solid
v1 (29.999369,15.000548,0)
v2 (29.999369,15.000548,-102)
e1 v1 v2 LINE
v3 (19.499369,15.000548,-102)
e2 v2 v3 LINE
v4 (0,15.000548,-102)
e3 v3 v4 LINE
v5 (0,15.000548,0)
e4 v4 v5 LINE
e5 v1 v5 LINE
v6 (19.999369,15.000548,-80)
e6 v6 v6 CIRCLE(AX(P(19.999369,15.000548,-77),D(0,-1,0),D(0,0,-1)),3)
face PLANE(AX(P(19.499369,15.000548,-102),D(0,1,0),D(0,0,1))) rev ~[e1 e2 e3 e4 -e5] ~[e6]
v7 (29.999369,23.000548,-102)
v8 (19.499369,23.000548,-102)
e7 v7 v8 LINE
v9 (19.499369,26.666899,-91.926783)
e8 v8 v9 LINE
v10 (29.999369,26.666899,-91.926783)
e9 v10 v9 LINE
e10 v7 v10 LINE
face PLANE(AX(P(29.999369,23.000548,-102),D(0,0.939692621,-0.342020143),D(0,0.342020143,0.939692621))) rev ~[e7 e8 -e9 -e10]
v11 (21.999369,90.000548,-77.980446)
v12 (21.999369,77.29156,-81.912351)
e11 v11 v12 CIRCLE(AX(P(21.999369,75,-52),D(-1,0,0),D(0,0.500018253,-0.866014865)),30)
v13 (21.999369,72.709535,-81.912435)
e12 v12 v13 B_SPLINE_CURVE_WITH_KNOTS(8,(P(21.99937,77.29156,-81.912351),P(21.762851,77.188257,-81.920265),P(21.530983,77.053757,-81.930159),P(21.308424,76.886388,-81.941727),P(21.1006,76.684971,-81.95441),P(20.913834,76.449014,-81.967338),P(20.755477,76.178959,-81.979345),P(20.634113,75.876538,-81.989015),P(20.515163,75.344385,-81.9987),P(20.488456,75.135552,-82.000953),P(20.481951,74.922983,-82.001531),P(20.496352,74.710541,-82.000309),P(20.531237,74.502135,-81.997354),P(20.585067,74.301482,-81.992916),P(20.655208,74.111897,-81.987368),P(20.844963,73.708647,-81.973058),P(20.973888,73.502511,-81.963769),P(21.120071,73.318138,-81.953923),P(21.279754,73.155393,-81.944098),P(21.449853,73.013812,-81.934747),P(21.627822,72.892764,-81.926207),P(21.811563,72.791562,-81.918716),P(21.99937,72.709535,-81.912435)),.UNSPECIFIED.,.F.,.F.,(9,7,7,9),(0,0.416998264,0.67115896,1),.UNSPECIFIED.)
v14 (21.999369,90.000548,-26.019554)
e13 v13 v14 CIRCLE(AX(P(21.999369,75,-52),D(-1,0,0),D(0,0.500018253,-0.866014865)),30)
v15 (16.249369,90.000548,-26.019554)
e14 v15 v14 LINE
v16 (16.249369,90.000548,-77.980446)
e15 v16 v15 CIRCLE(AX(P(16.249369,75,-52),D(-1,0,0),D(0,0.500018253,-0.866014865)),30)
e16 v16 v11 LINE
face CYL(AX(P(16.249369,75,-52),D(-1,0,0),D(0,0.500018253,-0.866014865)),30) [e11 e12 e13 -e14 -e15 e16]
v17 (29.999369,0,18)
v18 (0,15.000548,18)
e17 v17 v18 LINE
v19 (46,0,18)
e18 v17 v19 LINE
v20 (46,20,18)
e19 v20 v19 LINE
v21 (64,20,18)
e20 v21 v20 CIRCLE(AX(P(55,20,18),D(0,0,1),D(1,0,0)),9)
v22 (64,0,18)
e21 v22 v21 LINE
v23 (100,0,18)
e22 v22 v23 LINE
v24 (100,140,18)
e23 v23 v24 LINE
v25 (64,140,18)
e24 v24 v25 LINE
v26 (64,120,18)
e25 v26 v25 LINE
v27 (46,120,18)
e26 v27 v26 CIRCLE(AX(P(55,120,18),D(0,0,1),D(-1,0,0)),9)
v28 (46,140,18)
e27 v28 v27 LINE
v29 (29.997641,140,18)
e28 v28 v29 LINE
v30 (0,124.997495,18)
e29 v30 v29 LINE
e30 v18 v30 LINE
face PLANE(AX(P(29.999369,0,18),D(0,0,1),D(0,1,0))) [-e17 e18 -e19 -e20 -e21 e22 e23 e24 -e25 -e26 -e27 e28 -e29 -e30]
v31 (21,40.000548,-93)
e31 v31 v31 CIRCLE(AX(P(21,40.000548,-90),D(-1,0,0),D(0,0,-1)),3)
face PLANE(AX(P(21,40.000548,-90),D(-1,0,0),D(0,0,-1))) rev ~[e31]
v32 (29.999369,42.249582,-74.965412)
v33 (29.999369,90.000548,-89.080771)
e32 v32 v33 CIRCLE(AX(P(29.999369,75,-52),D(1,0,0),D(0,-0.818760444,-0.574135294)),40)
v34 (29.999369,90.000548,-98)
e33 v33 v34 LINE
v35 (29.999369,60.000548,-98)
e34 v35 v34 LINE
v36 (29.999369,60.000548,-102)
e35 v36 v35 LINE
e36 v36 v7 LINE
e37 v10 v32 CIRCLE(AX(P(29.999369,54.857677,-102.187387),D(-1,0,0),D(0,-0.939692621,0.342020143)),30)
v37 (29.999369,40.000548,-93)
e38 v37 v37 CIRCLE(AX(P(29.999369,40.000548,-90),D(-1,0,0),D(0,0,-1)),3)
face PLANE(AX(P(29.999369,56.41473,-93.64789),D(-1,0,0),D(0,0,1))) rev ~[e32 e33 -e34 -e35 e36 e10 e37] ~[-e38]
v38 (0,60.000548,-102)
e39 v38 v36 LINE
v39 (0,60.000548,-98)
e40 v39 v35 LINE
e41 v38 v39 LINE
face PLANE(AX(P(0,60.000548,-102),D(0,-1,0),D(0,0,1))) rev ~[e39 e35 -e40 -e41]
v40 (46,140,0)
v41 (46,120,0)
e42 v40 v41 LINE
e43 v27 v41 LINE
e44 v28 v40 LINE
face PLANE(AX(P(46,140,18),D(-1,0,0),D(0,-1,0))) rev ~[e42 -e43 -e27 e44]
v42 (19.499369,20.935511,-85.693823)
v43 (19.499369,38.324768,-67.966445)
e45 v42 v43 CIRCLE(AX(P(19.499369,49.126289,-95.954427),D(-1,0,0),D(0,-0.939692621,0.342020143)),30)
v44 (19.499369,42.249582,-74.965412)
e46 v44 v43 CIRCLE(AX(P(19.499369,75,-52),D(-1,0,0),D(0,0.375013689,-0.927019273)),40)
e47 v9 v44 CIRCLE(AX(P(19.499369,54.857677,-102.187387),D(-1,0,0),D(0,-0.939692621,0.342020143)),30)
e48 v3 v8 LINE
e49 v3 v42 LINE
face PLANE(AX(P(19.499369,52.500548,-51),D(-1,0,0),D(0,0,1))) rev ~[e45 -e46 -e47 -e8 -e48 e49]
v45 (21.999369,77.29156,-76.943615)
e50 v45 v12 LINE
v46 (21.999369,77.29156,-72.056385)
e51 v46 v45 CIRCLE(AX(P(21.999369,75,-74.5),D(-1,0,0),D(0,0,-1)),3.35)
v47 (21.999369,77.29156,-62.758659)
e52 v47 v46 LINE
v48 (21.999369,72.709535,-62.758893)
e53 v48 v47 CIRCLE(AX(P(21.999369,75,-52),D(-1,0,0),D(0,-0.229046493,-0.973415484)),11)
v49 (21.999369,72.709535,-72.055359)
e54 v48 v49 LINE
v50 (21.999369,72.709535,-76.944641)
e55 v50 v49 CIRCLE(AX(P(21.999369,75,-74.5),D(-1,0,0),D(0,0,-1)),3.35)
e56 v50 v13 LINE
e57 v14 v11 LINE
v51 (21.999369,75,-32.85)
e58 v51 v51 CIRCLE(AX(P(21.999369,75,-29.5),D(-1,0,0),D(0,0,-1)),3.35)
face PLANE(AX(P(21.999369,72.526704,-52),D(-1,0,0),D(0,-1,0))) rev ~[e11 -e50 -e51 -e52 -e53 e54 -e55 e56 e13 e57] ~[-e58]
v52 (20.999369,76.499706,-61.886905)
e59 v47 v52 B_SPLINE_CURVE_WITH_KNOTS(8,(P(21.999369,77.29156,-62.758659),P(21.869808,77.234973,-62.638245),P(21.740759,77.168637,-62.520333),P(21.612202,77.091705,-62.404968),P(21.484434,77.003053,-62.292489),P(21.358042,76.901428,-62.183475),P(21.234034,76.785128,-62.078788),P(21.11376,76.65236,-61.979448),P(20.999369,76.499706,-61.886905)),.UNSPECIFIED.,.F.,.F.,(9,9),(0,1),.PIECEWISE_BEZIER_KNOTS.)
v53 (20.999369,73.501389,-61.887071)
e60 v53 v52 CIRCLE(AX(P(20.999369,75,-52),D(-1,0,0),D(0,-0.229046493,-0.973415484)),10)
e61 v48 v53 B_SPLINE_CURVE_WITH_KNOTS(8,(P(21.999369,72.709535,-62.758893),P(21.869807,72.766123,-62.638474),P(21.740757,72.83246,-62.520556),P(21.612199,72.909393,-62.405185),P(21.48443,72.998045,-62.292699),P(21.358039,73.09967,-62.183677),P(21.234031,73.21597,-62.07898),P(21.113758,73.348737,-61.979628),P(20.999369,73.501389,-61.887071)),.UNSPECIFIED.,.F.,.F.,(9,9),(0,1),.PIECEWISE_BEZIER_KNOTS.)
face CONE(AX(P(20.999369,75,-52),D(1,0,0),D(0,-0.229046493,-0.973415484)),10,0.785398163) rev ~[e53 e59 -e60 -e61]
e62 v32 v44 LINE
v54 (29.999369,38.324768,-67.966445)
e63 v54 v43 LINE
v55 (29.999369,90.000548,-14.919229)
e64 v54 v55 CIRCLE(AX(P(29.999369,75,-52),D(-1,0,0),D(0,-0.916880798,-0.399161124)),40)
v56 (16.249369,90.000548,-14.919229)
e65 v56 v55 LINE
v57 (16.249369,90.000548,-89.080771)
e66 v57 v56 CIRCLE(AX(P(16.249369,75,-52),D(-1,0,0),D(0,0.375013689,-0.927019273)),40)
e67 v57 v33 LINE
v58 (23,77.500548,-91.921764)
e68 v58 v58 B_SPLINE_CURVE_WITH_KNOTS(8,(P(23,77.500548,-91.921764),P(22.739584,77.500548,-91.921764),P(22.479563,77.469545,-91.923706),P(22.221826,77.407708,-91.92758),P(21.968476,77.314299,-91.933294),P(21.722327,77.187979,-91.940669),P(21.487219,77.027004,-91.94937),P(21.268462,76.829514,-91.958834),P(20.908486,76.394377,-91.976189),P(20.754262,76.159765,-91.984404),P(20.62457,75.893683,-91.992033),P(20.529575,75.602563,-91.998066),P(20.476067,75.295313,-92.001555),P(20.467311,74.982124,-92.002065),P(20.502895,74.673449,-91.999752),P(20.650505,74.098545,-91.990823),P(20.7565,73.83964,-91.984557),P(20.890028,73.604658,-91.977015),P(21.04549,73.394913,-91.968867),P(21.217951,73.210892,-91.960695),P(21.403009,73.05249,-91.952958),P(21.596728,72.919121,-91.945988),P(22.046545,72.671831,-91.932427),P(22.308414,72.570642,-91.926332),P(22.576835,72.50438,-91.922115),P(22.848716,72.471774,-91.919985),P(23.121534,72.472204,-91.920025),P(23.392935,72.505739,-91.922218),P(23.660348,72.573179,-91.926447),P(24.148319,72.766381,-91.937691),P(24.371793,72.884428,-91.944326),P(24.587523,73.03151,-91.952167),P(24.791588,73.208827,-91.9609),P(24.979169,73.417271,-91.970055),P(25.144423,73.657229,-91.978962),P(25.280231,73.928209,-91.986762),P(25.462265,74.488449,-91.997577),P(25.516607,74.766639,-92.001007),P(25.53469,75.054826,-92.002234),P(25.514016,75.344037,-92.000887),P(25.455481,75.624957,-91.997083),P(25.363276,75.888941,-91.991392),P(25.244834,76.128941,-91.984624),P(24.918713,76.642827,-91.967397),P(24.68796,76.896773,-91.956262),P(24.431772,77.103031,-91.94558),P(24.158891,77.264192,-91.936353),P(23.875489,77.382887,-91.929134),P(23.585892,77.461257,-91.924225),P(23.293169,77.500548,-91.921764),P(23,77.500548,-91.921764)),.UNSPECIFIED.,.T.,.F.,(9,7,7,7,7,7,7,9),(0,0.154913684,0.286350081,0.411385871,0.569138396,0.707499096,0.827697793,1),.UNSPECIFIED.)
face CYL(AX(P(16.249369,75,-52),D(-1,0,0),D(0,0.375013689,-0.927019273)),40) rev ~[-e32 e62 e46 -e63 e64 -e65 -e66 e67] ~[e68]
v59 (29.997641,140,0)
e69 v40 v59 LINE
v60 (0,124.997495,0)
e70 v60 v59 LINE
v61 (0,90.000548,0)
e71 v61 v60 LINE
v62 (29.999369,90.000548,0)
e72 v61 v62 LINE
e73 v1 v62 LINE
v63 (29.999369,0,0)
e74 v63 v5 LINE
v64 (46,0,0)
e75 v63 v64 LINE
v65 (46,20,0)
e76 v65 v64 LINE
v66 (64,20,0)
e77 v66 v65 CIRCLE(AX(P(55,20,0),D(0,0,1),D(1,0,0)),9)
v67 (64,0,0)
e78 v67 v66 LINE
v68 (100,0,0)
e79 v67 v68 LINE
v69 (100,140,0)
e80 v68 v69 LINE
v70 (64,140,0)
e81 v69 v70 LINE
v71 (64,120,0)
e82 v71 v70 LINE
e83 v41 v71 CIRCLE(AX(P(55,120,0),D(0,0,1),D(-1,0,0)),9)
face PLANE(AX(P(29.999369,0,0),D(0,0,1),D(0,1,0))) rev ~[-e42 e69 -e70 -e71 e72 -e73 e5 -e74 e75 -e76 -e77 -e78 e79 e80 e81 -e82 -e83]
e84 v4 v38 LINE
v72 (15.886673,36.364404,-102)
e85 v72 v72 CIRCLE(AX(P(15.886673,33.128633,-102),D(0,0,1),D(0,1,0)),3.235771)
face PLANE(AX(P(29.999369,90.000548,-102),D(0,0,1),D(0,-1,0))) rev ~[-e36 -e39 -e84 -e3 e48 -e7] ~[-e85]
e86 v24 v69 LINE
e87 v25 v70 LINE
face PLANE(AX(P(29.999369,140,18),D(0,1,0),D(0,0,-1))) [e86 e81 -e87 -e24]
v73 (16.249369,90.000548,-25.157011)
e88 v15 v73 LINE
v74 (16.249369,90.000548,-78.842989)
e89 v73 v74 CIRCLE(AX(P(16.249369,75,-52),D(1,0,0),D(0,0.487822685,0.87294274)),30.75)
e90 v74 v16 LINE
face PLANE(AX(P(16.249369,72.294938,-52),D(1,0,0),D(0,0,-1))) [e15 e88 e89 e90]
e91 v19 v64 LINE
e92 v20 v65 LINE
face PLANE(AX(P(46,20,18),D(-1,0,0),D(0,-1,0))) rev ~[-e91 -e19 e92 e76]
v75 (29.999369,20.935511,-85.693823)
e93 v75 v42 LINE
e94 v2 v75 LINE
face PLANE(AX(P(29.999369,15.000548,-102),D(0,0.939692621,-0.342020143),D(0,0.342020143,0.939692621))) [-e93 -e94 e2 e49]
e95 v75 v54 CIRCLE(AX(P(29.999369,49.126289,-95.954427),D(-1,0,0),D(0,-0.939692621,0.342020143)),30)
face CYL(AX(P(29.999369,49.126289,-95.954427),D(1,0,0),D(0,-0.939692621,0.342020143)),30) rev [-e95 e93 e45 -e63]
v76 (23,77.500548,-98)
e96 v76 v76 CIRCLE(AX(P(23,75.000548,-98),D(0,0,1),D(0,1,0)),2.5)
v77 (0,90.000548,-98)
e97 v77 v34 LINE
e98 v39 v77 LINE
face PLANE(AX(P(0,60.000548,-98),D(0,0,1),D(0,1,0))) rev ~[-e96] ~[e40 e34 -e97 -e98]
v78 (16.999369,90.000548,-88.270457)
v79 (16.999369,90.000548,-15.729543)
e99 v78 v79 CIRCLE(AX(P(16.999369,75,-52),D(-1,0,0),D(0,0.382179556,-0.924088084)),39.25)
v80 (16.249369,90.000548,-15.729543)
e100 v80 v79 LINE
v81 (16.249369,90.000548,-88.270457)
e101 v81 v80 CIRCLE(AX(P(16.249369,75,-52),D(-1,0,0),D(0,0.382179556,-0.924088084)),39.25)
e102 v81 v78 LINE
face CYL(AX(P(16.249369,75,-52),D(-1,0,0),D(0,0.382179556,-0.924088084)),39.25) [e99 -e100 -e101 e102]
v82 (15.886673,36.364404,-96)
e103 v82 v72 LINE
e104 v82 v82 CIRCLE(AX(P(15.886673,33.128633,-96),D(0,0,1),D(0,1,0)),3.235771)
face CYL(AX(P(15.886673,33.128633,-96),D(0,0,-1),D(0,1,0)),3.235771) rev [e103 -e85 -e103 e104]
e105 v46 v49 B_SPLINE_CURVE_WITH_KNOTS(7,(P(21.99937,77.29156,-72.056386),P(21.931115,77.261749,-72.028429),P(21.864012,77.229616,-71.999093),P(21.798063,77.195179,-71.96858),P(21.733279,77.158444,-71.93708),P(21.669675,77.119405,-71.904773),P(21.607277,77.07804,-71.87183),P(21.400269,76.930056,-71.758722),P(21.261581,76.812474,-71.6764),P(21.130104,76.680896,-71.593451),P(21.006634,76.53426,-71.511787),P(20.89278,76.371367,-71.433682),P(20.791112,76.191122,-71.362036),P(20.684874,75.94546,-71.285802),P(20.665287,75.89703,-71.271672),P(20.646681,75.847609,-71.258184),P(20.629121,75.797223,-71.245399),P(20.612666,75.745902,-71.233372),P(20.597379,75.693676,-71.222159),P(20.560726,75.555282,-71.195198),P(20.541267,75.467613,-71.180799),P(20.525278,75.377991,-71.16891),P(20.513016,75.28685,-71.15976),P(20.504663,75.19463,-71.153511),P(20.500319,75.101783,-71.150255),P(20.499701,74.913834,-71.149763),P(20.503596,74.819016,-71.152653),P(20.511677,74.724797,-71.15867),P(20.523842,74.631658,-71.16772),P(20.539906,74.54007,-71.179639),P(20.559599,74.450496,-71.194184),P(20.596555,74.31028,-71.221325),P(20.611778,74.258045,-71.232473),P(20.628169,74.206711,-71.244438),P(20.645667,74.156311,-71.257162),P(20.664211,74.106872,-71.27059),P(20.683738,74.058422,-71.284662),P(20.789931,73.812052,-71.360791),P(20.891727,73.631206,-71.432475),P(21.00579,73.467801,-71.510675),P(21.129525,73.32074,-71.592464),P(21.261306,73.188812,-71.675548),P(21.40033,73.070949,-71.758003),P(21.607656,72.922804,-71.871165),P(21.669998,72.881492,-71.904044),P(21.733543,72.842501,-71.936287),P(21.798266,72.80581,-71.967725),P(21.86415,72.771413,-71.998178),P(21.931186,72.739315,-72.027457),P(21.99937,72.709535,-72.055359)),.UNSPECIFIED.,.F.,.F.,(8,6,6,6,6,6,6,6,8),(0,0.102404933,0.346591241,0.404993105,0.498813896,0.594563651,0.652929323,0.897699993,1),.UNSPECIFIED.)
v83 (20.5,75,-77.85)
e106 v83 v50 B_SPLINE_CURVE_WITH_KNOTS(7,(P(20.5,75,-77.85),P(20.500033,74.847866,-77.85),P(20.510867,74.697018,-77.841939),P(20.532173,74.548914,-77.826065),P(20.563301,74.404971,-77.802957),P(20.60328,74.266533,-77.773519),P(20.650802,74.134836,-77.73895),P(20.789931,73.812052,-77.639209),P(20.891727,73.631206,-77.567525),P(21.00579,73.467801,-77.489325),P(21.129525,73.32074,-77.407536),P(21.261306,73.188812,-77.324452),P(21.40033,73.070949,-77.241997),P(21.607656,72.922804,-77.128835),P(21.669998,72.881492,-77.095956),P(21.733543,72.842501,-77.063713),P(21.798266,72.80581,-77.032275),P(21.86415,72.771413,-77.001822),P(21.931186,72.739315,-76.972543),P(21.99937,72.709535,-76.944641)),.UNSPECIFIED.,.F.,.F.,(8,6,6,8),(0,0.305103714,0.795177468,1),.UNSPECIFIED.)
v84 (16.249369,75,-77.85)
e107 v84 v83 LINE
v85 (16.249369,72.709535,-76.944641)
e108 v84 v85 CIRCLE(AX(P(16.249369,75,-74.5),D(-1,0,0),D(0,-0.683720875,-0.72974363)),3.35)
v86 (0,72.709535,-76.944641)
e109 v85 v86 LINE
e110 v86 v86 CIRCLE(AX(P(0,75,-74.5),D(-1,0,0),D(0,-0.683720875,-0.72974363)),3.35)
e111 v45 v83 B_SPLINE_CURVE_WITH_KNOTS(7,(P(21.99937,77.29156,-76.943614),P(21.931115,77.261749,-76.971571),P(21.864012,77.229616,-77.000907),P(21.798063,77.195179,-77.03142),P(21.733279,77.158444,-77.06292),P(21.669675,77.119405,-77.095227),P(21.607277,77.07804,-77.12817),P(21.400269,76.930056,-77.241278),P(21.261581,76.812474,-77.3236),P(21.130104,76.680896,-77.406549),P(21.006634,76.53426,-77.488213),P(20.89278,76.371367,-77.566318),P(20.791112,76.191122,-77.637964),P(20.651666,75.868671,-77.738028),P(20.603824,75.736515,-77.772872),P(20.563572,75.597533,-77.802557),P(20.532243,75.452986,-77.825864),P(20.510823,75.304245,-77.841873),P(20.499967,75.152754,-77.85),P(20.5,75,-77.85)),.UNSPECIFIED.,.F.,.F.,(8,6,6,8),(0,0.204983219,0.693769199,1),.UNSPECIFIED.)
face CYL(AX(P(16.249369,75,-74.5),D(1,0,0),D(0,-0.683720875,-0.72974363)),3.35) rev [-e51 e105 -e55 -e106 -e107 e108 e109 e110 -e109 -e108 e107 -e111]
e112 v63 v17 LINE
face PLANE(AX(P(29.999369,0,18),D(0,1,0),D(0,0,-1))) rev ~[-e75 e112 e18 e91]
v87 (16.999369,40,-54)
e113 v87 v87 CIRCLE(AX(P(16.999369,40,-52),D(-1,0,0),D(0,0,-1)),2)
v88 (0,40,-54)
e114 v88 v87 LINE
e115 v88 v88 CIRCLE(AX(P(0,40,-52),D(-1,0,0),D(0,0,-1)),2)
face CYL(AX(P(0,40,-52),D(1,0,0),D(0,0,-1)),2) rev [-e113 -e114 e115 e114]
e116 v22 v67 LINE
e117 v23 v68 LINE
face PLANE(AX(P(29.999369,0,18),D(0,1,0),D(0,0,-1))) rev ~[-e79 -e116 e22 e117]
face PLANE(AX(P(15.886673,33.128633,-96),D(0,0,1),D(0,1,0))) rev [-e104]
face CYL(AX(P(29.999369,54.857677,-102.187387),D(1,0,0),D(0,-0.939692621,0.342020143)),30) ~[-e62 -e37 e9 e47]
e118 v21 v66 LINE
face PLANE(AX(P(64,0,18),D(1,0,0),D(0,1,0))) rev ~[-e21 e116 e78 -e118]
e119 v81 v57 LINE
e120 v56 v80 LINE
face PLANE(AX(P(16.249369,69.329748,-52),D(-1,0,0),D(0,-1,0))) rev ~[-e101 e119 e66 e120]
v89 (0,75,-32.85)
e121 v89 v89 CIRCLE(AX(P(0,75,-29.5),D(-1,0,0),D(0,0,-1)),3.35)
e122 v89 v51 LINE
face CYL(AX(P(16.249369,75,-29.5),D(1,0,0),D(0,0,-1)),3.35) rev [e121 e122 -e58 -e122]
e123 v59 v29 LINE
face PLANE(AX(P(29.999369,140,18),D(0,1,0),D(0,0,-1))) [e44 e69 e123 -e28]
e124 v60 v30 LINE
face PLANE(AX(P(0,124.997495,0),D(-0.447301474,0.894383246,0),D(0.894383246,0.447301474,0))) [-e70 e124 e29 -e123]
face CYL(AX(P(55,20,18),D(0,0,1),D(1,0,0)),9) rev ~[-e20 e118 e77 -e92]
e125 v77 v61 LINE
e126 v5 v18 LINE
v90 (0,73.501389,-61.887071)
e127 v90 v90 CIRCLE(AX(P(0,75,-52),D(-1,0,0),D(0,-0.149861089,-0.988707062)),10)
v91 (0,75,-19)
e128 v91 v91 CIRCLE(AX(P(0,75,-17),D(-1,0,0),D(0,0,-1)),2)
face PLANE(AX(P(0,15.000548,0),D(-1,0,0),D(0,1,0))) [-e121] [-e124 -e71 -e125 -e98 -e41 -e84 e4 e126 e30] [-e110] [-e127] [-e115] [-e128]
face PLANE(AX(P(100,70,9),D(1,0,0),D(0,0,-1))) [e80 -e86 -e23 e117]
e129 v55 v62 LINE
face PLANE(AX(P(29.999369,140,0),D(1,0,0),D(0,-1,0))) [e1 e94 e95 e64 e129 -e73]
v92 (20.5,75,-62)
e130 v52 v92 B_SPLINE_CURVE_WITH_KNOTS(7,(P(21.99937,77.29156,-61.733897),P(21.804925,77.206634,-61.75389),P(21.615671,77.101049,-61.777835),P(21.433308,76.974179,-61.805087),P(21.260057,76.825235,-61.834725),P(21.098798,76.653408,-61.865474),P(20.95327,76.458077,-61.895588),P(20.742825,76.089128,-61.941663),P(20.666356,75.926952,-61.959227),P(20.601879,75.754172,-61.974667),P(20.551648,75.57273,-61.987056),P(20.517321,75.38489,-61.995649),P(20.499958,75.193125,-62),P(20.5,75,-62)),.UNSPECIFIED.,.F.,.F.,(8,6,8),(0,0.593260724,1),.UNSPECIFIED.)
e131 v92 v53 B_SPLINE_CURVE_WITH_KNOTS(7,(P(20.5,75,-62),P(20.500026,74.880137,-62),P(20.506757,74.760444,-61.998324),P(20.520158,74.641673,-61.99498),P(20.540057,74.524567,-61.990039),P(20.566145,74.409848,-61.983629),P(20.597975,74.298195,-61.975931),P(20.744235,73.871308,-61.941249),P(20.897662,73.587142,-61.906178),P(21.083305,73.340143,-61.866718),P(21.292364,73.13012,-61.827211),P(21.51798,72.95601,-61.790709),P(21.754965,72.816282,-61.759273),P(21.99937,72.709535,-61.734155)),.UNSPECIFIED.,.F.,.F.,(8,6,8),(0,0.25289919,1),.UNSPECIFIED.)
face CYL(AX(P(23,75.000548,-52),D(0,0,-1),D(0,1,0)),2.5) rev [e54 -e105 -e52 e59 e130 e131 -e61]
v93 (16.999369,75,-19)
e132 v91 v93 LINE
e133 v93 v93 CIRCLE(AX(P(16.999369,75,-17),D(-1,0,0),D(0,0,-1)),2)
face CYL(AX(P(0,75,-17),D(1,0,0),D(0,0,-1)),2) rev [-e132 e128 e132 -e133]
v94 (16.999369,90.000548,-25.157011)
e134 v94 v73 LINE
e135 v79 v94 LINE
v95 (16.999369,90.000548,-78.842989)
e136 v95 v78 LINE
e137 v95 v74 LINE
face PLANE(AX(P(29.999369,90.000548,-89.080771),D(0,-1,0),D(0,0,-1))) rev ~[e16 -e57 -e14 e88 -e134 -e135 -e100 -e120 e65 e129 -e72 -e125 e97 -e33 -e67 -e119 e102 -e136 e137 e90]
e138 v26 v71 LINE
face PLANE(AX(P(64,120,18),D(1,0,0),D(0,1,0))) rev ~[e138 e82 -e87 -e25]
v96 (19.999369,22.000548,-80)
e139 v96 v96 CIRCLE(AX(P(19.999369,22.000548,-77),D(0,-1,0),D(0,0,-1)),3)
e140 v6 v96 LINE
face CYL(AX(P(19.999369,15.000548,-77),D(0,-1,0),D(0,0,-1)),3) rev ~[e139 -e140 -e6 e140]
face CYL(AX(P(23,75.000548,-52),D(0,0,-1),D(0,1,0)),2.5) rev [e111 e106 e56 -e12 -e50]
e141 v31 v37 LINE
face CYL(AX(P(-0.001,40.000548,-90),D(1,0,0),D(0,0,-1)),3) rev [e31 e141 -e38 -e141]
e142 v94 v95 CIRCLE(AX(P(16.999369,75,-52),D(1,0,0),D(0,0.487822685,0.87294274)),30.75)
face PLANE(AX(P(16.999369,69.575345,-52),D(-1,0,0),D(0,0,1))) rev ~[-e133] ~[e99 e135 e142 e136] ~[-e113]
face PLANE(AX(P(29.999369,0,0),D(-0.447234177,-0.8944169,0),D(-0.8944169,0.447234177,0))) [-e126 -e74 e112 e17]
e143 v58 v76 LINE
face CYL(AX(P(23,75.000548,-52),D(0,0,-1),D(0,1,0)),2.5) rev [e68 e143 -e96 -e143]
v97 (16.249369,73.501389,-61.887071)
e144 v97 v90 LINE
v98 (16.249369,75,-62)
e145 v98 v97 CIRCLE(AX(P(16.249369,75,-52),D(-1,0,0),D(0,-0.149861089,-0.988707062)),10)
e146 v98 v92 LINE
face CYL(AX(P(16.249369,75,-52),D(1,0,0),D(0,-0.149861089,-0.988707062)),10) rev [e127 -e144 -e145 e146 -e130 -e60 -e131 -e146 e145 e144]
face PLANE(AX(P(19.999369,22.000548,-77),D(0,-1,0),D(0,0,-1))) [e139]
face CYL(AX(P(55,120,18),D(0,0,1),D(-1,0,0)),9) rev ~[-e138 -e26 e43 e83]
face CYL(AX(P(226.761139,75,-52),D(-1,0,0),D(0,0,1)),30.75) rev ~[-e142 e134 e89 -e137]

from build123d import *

# Parameters (mm, degrees)
EXTRUDE_1_DEPTH                  = 10.5
SKETCH_2_W                       = 102.00000000000001
SKETCH_2_H                       = 75.00000000000009
EXTRUDE_2_DEPTH                  = 19.4993693487819
EXTRUDE_3_DEPTH                  = 18.000000000000004
SKETCH_4_W                       = 18.000000000000004
SKETCH_4_H                       = 140
EXTRUDE_4_DEPTH                  = 70.0006306512181
EXTRUDE_START                    = 10.499999999999998
EXTRUDE_5_DEPTH                  = 10.499999999999998
CUT_EXTRUDE_1_REACH              = 194.401
SKETCH_7_W                       = 4.000000000000014
SKETCH_7_H                       = 29.999999999999993
CUT_EXTRUDE_2_DEPTH              = 201.0099997500125
CUT_EXTRUDE_3_DEPTH              = 210.76176963403032
CUT_EXTRUDE_4_DEPTH              = 210.76176963403032
EXTRUDE_6_DEPTH                  = 0.7500000000000007
HOLE_WIZARD_M521_D               = 61.5
EXTRUDE_7_DEPTH                  = 5.749999999999998
HOLE_WIZARD_6_7_6_7_1_AT_2_COUNT = 2
HOLE_WIZARD_6_7_6_7_1_AT_2_PITCH = 45
HOLE_WIZARD_4_0_4_1_AT_2_COUNT   = 2
HOLE_WIZARD_4_0_4_1_AT_2_PITCH   = 49.49747468305833
CHAMFER_1_SIZE                   = 0.9999999999999991
EXTRUDE_START_2                  = -16.249369
SKETCH_28_R                      = 3.35
SKETCH_28_R_2                    = 9.999999999999993
SKETCH_28_R_3                    = 3.350000000000003
EXTRUDE_8_DEPTH                  = 16.249369
SKETCH_30_R                      = 3.0000000000000018
CUT_EXTRUDE_5_DEPTH              = 7
EXTRUDE_START_3                  = -21.000000000000007
SKETCH_32_R                      = 2.9999999999999933
EXTRUDE_9_DEPTH                  = 21.000000000000007


with BuildPart() as part:
    # Эскиз1 → Бобышка-Вытянуть1 (new body)
    with BuildSketch(Plane(origin=(29.9993693487819, 0, 0), x_dir=(0, 0, -1), z_dir=(1, 0, 0))):
        with BuildLine():
            Line((14.919229074297327, 90.0005475751909), (0, 90.0005475751909))
            Line((0, 90.0005475751909), (0, 15.0005475751908))
            Line((0, 15.0005475751908), (102.00000000000001, 15.0005475751908))
            Line((102.00000000000001, 15.0005475751908), (85.69382268537409, 20.93551075238141))
            ThreePointArc((85.69382268537409, 20.93551075238141), (74.94644857866616, 27.70982740688085), (67.9664449575318, 38.324768093192546))
            ThreePointArc((67.9664449575318, 38.324768093192546), (24.088528585175357, 46.3477790832992), (14.919229074297327, 90.0005475751909))
        make_face()
    extrude(amount=-EXTRUDE_1_DEPTH)

    # Эскиз2 → Бобышка-Вытянуть2 (add)
    with BuildSketch(Plane.ZY.offset(-19.4993693487819)):
        with Locations((-51.00000000000001, 52.50054757519085)):
            Rectangle(SKETCH_2_W, SKETCH_2_H)
    extrude(amount=EXTRUDE_2_DEPTH)

    # Эскиз3 → Бобышка-Вытянуть3 (add)
    with BuildSketch(Plane.XY):
        Polygon((29.999369348781915, -6.94e-15), (3.47e-15, 15.000547575190799), (0, 124.997494914823), (29.997641385548, 140), (29.999369348781904, 140), align=None)
    extrude(amount=EXTRUDE_3_DEPTH)

    # Эскиз4 → Бобышка-Вытянуть4 (add)
    with BuildSketch(Plane(origin=(29.9993693487819, 0, 0), x_dir=(0, 0, -1), z_dir=(1, 0, 0))):
        with Locations((-9.000000000000002, 70)):
            Rectangle(SKETCH_4_W, SKETCH_4_H)
    extrude(amount=EXTRUDE_4_DEPTH)

    # Эскиз5 → Бобышка-Вытянуть5 (add)
    with BuildSketch(Plane(origin=(19.4993693487819, 0, 0), x_dir=(0, 0, -1), z_dir=(1, 0, 0)).offset(EXTRUDE_START)):
        with BuildLine():
            Line((89.08077092570272, 90.0005475751909), (102.00000000000001, 90.0005475751909))
            Line((102.00000000000001, 90.0005475751909), (102.00000000000001, 23.000547575190808))
            Line((102.00000000000001, 23.000547575190808), (91.92678266011816, 26.666898850201964))
            ThreePointArc((91.92678266011816, 26.666898850201964), (81.8910585435448, 32.765618882150974), (74.9654117449494, 42.24958224106233))
            ThreePointArc((74.9654117449494, 42.24958224106233), (90.35915387380979, 63.660894475956894), (89.08077092570272, 90.0005475751909))
        make_face()
    extrude(amount=-EXTRUDE_5_DEPTH)

    # Эскиз6 → Вырез-Вытянуть1 (cut, up to next)
    with BuildSketch(Plane(origin=(16.2493693487819, 0, 0), x_dir=(0, -1, 0), z_dir=(-1, 0, 0)), mode=Mode.PRIVATE) as cut_extrude_1_sk1:
        with BuildLine():
            Line((-90.0005475751909, -14.919229074297327), (-90.0005475751909, -89.08077092570272))
            ThreePointArc((-90.0005475751909, -89.08077092570272), (-34.999999999999936, -52), (-90.0005475751909, -14.919229074297327))
        make_face()
    cut_extrude_1_tool1 = extrude(cut_extrude_1_sk1.sketch, amount=-CUT_EXTRUDE_1_REACH, mode=Mode.PRIVATE) & part.part
    add(cut_extrude_1_tool1.solids().sort_by_distance((16.249369, 65.774947, -52))[0], mode=Mode.SUBTRACT)

    # Эскиз7 → Вырез-Вытянуть2 (cut, through all)
    with BuildSketch(Plane.ZY):
        with Locations((-100, 75.0005475751909)):
            Rectangle(SKETCH_7_W, SKETCH_7_H)
    extrude(amount=-CUT_EXTRUDE_2_DEPTH, mode=Mode.SUBTRACT)

    # Эскиз8 → Вырез-Вытянуть3 (cut, through all)
    with BuildSketch(Plane.XY.offset(18.000000000000004)):
        with BuildLine():
            Line((64, 140), (45.999999999999986, 140))
            Line((45.999999999999986, 140), (46, 120))
            ThreePointArc((46, 120), (55, 111), (64, 120))
            Line((64, 120), (64, 140))
        make_face()
    extrude(amount=-CUT_EXTRUDE_3_DEPTH, mode=Mode.SUBTRACT)

    # Эскиз9 → Вырез-Вытянуть4 (cut, through all)
    with BuildSketch(Plane.XY.offset(18.000000000000004)):
        with BuildLine():
            Line((46.00000000000001, 0), (64, 0))
            Line((64, 0), (64, 20.000000000000004))
            ThreePointArc((64, 20.000000000000004), (55, 29), (45.999999999999986, 20.000000000000004))
            Line((45.999999999999986, 20.000000000000004), (46.00000000000001, 0))
        make_face()
    extrude(amount=-CUT_EXTRUDE_4_DEPTH, mode=Mode.SUBTRACT)

    # Эскиз10 → Бобышка-Вытянуть6 (add)
    with BuildSketch(Plane(origin=(16.2493693487819, 0, 0), x_dir=(0, 0, -1), z_dir=(1, 0, 0))):
        with BuildLine():
            Line((15.729542704227807, 90.0005475751909), (88.27045729577222, 90.00054757519085))
            ThreePointArc((88.27045729577222, 90.00054757519085), (51.999999999999986, 35.75000000000001), (15.729542704227807, 90.0005475751909))
        make_face()
    extrude(amount=EXTRUDE_6_DEPTH)

    # Отверстие с зазором M521 (through all)
    with Locations(Plane(origin=(16.999369348781904, 0, 0), x_dir=(0, 0, -1), z_dir=(1, 0, 0))):
        with Locations((52, 75)):
            Hole(HOLE_WIZARD_M521_D / 2)

    # Эскиз20 → Диаметр отверстия Ø4.0 (4)1 (revolve, cut)
    with BuildSketch(Plane(origin=(16.999369348781904, 75, -17), x_dir=(0, 0, -1), z_dir=(0, 1, 0))):
        Polygon((0, 0), (-4.16e-15, 16.999369348781904), (1.9999999999999978, 16.999369348781904), (1.9999999999999896, -1.31e-15), align=None)
    hole_wizard_4_0_4_1 = revolve(axis=Axis((23.349369348781895, 75, -17), (-1, 0, 0)), mode=Mode.SUBTRACT)

    # Диаметр отверстия Ø4.0 (4)1 at 2: Диаметр отверстия Ø4.0 (4)1 ×2
    with Locations(*[Vector(0, -0.7071067811865475, -0.7071067811865477) * (i * HOLE_WIZARD_4_0_4_1_AT_2_PITCH) for i in range(1, HOLE_WIZARD_4_0_4_1_AT_2_COUNT)]):
        add(hole_wizard_4_0_4_1, mode=Mode.SUBTRACT)

    # Эскиз22 → Диаметр отверстия Ø6.0 (6)1 (revolve, cut)
    with BuildSketch(Plane(origin=(29.9993693487819, 40.0005475751908, -90), x_dir=(0, 0, -1), z_dir=(0, 1, 0))):
        Polygon((0, 0), (-7.35e-15, 30.000369348781906), (2.9999999999999867, 30.000369348781906), (2.9999999999999907, -1.19e-15), align=None)
    revolve(axis=Axis((36.34936934878189, 40.0005475751908, -90), (-1, 0, 0)), mode=Mode.SUBTRACT)


with BuildPart() as body_2:
    # Эскиз13 → Бобышка-Вытянуть7 (new body)
    with BuildSketch(Plane(origin=(16.2493693487819, 0, 0), x_dir=(0, -1, 0), z_dir=(-1, 0, 0))):
        with BuildLine():
            Line((-90.0005475751909, -26.01955403684463), (-90.0005475751909, -77.98044596315543))
            ThreePointArc((-90.0005475751909, -77.98044596315543), (-44.99999999999993, -51.99999999999999), (-90.0005475751909, -26.01955403684463))
        make_face()
    extrude(amount=-EXTRUDE_7_DEPTH)

    # Эскиз16 → Диаметр отверстия Ø6.7 (6.7)1 (revolve, cut)
    with BuildSketch(Plane(origin=(21.9993693487819, 75, -74.5), x_dir=(0, 0, -1), z_dir=(0, 1, 0))):
        Polygon((0, 0), (-1.41e-15, 5.7509999999999994), (3.3500000000000045, 5.7509999999999994), (3.3499999999999934, -1.15e-15), align=None)
    hole_wizard_6_7_6_7_1 = revolve(axis=Axis((28.34936934878189, 75, -74.5), (-1, 0, 0)), mode=Mode.SUBTRACT)

    # Диаметр отверстия Ø6.7 (6.7)1 at 2: Диаметр отверстия Ø6.7 (6.7)1 ×2
    with Locations(*[(0, 0, i * HOLE_WIZARD_6_7_6_7_1_AT_2_PITCH) for i in range(1, HOLE_WIZARD_6_7_6_7_1_AT_2_COUNT)]):
        add(hole_wizard_6_7_6_7_1, mode=Mode.SUBTRACT)

    # Эскиз18 → Диаметр отверстия Ø20.0 (20)1 (revolve, cut)
    with BuildSketch(Plane(origin=(21.9993693487819, 75, -52.00000000000001), x_dir=(0, 0, -1), z_dir=(0, 1, 0))):
        Polygon((0, 0), (-1.41e-15, 5.7510000000000066), (9.99999999999999, 5.7510000000000066), (9.99999999999999, -3.3e-16), align=None)
    revolve(axis=Axis((28.34936934878189, 75, -52.00000000000001), (-1, 0, 0)), mode=Mode.SUBTRACT)


with BuildPart() as hole_wizard_5_0_5_1_tool:
    # Эскиз24 → Диаметр отверстия Ø5.0 (5)1 (revolve)
    with BuildSketch(Plane(origin=(23, 75.0005475751909, -98), x_dir=(0, 1, 0), z_dir=(1, 0, 0))):
        Polygon((0, 0), (-1.127e-14, 45.999999999999986), (2.499999999999981, 45.999999999999986), (2.4999999999999867, -1.25e-15), align=None)
    revolve(axis=Axis((23, 75.0005475751909, -104.35), (0, 0, 1)))


with BuildPart() as part_1:
    add(part.part)

    # Диаметр отверстия Ø5.0 (5)1: cut by hole_wizard_5_0_5_1_tool
    add(hole_wizard_5_0_5_1_tool.part, mode=Mode.SUBTRACT)

    # Эскиз26 → Отверстие с зазором M61 (revolve, cut)
    with BuildSketch(Plane(origin=(15.8866729980809, 33.128633292951, -102.00000000000001), x_dir=(0, 1, 0), z_dir=(1, 0, 0))):
        Polygon((0, 0), (-1.47e-15, 5.999999999999993), (3.2357711959407984, 6.000000000000005), (3.2357711959408, -1.16e-15), align=None)
    revolve(axis=Axis((15.8866729980809, 33.128633292951, -108.35000000000001), (0, 0, 1)), mode=Mode.SUBTRACT)


with BuildPart() as body_2_1:
    add(body_2.part)

    # Диаметр отверстия Ø5.0 (5)1: cut by hole_wizard_5_0_5_1_tool
    add(hole_wizard_5_0_5_1_tool.part, mode=Mode.SUBTRACT)

    # Фаска1
    chamfer_1_edges = [body_2_1.edges().sort_by_distance(p)[0] for p in [
        (21.9993693487819, 74.99943746278025, -42.00000001582242),
    ]]
    chamfer(chamfer_1_edges, length=CHAMFER_1_SIZE)


with BuildPart() as extrude_8_tool:
    # Эскиз28 → Бобышка-Вытянуть8 (new body)
    with BuildSketch(Plane.ZY.offset(EXTRUDE_START_2)):
        with BuildLine():
            Line((-78.84298926059529, 90.0005475751909), (-25.157010739404722, 90.0005475751909))
            ThreePointArc((-25.157010739404722, 90.0005475751909), (-52.000000000000014, 44.250000000000014), (-78.84298926059529, 90.0005475751909))
        make_face()
        with Locations(Location((-29.500000000000004, 75, 0), (0, 0, 180))):
            Circle(SKETCH_28_R, mode=Mode.SUBTRACT)
        with Locations(Location((-52.00000000000001, 75, 0), (0, 0, 188.618876561))):
            Circle(SKETCH_28_R_2, mode=Mode.SUBTRACT)
        with Locations(Location((-74.5, 75, 0), (0, 0, 223.135094042))):
            Circle(SKETCH_28_R_3, mode=Mode.SUBTRACT)
    extrude(amount=EXTRUDE_8_DEPTH)


with BuildPart() as part_2:
    add(part_1.part)


with BuildPart() as part_3:
    # Бобышка-Вытянуть8: joined with extrude_8_tool
    add(part_2.part.fuse(extrude_8_tool.part, body_2_1.part, tol=0.00001))

    # Эскиз30 → Вырез-Вытянуть5 (cut)
    with BuildSketch(Plane.XZ.offset(-15.0005475751908)):
        with Locations(Location((19.9993693487819, -77.00000000000001, 0), (0, 0, 270))):
            Circle(SKETCH_30_R)
    extrude(amount=-CUT_EXTRUDE_5_DEPTH, mode=Mode.SUBTRACT)

    # Эскиз32 → Бобышка-Вытянуть9 (add)
    with BuildSketch(Plane.ZY.offset(EXTRUDE_START_3)):
        with Locations(Location((-90, 40.0005475751908, 0), (0, 0, 180))):
            Circle(SKETCH_32_R)
    extrude(amount=EXTRUDE_9_DEPTH)


solid = part_3.part
